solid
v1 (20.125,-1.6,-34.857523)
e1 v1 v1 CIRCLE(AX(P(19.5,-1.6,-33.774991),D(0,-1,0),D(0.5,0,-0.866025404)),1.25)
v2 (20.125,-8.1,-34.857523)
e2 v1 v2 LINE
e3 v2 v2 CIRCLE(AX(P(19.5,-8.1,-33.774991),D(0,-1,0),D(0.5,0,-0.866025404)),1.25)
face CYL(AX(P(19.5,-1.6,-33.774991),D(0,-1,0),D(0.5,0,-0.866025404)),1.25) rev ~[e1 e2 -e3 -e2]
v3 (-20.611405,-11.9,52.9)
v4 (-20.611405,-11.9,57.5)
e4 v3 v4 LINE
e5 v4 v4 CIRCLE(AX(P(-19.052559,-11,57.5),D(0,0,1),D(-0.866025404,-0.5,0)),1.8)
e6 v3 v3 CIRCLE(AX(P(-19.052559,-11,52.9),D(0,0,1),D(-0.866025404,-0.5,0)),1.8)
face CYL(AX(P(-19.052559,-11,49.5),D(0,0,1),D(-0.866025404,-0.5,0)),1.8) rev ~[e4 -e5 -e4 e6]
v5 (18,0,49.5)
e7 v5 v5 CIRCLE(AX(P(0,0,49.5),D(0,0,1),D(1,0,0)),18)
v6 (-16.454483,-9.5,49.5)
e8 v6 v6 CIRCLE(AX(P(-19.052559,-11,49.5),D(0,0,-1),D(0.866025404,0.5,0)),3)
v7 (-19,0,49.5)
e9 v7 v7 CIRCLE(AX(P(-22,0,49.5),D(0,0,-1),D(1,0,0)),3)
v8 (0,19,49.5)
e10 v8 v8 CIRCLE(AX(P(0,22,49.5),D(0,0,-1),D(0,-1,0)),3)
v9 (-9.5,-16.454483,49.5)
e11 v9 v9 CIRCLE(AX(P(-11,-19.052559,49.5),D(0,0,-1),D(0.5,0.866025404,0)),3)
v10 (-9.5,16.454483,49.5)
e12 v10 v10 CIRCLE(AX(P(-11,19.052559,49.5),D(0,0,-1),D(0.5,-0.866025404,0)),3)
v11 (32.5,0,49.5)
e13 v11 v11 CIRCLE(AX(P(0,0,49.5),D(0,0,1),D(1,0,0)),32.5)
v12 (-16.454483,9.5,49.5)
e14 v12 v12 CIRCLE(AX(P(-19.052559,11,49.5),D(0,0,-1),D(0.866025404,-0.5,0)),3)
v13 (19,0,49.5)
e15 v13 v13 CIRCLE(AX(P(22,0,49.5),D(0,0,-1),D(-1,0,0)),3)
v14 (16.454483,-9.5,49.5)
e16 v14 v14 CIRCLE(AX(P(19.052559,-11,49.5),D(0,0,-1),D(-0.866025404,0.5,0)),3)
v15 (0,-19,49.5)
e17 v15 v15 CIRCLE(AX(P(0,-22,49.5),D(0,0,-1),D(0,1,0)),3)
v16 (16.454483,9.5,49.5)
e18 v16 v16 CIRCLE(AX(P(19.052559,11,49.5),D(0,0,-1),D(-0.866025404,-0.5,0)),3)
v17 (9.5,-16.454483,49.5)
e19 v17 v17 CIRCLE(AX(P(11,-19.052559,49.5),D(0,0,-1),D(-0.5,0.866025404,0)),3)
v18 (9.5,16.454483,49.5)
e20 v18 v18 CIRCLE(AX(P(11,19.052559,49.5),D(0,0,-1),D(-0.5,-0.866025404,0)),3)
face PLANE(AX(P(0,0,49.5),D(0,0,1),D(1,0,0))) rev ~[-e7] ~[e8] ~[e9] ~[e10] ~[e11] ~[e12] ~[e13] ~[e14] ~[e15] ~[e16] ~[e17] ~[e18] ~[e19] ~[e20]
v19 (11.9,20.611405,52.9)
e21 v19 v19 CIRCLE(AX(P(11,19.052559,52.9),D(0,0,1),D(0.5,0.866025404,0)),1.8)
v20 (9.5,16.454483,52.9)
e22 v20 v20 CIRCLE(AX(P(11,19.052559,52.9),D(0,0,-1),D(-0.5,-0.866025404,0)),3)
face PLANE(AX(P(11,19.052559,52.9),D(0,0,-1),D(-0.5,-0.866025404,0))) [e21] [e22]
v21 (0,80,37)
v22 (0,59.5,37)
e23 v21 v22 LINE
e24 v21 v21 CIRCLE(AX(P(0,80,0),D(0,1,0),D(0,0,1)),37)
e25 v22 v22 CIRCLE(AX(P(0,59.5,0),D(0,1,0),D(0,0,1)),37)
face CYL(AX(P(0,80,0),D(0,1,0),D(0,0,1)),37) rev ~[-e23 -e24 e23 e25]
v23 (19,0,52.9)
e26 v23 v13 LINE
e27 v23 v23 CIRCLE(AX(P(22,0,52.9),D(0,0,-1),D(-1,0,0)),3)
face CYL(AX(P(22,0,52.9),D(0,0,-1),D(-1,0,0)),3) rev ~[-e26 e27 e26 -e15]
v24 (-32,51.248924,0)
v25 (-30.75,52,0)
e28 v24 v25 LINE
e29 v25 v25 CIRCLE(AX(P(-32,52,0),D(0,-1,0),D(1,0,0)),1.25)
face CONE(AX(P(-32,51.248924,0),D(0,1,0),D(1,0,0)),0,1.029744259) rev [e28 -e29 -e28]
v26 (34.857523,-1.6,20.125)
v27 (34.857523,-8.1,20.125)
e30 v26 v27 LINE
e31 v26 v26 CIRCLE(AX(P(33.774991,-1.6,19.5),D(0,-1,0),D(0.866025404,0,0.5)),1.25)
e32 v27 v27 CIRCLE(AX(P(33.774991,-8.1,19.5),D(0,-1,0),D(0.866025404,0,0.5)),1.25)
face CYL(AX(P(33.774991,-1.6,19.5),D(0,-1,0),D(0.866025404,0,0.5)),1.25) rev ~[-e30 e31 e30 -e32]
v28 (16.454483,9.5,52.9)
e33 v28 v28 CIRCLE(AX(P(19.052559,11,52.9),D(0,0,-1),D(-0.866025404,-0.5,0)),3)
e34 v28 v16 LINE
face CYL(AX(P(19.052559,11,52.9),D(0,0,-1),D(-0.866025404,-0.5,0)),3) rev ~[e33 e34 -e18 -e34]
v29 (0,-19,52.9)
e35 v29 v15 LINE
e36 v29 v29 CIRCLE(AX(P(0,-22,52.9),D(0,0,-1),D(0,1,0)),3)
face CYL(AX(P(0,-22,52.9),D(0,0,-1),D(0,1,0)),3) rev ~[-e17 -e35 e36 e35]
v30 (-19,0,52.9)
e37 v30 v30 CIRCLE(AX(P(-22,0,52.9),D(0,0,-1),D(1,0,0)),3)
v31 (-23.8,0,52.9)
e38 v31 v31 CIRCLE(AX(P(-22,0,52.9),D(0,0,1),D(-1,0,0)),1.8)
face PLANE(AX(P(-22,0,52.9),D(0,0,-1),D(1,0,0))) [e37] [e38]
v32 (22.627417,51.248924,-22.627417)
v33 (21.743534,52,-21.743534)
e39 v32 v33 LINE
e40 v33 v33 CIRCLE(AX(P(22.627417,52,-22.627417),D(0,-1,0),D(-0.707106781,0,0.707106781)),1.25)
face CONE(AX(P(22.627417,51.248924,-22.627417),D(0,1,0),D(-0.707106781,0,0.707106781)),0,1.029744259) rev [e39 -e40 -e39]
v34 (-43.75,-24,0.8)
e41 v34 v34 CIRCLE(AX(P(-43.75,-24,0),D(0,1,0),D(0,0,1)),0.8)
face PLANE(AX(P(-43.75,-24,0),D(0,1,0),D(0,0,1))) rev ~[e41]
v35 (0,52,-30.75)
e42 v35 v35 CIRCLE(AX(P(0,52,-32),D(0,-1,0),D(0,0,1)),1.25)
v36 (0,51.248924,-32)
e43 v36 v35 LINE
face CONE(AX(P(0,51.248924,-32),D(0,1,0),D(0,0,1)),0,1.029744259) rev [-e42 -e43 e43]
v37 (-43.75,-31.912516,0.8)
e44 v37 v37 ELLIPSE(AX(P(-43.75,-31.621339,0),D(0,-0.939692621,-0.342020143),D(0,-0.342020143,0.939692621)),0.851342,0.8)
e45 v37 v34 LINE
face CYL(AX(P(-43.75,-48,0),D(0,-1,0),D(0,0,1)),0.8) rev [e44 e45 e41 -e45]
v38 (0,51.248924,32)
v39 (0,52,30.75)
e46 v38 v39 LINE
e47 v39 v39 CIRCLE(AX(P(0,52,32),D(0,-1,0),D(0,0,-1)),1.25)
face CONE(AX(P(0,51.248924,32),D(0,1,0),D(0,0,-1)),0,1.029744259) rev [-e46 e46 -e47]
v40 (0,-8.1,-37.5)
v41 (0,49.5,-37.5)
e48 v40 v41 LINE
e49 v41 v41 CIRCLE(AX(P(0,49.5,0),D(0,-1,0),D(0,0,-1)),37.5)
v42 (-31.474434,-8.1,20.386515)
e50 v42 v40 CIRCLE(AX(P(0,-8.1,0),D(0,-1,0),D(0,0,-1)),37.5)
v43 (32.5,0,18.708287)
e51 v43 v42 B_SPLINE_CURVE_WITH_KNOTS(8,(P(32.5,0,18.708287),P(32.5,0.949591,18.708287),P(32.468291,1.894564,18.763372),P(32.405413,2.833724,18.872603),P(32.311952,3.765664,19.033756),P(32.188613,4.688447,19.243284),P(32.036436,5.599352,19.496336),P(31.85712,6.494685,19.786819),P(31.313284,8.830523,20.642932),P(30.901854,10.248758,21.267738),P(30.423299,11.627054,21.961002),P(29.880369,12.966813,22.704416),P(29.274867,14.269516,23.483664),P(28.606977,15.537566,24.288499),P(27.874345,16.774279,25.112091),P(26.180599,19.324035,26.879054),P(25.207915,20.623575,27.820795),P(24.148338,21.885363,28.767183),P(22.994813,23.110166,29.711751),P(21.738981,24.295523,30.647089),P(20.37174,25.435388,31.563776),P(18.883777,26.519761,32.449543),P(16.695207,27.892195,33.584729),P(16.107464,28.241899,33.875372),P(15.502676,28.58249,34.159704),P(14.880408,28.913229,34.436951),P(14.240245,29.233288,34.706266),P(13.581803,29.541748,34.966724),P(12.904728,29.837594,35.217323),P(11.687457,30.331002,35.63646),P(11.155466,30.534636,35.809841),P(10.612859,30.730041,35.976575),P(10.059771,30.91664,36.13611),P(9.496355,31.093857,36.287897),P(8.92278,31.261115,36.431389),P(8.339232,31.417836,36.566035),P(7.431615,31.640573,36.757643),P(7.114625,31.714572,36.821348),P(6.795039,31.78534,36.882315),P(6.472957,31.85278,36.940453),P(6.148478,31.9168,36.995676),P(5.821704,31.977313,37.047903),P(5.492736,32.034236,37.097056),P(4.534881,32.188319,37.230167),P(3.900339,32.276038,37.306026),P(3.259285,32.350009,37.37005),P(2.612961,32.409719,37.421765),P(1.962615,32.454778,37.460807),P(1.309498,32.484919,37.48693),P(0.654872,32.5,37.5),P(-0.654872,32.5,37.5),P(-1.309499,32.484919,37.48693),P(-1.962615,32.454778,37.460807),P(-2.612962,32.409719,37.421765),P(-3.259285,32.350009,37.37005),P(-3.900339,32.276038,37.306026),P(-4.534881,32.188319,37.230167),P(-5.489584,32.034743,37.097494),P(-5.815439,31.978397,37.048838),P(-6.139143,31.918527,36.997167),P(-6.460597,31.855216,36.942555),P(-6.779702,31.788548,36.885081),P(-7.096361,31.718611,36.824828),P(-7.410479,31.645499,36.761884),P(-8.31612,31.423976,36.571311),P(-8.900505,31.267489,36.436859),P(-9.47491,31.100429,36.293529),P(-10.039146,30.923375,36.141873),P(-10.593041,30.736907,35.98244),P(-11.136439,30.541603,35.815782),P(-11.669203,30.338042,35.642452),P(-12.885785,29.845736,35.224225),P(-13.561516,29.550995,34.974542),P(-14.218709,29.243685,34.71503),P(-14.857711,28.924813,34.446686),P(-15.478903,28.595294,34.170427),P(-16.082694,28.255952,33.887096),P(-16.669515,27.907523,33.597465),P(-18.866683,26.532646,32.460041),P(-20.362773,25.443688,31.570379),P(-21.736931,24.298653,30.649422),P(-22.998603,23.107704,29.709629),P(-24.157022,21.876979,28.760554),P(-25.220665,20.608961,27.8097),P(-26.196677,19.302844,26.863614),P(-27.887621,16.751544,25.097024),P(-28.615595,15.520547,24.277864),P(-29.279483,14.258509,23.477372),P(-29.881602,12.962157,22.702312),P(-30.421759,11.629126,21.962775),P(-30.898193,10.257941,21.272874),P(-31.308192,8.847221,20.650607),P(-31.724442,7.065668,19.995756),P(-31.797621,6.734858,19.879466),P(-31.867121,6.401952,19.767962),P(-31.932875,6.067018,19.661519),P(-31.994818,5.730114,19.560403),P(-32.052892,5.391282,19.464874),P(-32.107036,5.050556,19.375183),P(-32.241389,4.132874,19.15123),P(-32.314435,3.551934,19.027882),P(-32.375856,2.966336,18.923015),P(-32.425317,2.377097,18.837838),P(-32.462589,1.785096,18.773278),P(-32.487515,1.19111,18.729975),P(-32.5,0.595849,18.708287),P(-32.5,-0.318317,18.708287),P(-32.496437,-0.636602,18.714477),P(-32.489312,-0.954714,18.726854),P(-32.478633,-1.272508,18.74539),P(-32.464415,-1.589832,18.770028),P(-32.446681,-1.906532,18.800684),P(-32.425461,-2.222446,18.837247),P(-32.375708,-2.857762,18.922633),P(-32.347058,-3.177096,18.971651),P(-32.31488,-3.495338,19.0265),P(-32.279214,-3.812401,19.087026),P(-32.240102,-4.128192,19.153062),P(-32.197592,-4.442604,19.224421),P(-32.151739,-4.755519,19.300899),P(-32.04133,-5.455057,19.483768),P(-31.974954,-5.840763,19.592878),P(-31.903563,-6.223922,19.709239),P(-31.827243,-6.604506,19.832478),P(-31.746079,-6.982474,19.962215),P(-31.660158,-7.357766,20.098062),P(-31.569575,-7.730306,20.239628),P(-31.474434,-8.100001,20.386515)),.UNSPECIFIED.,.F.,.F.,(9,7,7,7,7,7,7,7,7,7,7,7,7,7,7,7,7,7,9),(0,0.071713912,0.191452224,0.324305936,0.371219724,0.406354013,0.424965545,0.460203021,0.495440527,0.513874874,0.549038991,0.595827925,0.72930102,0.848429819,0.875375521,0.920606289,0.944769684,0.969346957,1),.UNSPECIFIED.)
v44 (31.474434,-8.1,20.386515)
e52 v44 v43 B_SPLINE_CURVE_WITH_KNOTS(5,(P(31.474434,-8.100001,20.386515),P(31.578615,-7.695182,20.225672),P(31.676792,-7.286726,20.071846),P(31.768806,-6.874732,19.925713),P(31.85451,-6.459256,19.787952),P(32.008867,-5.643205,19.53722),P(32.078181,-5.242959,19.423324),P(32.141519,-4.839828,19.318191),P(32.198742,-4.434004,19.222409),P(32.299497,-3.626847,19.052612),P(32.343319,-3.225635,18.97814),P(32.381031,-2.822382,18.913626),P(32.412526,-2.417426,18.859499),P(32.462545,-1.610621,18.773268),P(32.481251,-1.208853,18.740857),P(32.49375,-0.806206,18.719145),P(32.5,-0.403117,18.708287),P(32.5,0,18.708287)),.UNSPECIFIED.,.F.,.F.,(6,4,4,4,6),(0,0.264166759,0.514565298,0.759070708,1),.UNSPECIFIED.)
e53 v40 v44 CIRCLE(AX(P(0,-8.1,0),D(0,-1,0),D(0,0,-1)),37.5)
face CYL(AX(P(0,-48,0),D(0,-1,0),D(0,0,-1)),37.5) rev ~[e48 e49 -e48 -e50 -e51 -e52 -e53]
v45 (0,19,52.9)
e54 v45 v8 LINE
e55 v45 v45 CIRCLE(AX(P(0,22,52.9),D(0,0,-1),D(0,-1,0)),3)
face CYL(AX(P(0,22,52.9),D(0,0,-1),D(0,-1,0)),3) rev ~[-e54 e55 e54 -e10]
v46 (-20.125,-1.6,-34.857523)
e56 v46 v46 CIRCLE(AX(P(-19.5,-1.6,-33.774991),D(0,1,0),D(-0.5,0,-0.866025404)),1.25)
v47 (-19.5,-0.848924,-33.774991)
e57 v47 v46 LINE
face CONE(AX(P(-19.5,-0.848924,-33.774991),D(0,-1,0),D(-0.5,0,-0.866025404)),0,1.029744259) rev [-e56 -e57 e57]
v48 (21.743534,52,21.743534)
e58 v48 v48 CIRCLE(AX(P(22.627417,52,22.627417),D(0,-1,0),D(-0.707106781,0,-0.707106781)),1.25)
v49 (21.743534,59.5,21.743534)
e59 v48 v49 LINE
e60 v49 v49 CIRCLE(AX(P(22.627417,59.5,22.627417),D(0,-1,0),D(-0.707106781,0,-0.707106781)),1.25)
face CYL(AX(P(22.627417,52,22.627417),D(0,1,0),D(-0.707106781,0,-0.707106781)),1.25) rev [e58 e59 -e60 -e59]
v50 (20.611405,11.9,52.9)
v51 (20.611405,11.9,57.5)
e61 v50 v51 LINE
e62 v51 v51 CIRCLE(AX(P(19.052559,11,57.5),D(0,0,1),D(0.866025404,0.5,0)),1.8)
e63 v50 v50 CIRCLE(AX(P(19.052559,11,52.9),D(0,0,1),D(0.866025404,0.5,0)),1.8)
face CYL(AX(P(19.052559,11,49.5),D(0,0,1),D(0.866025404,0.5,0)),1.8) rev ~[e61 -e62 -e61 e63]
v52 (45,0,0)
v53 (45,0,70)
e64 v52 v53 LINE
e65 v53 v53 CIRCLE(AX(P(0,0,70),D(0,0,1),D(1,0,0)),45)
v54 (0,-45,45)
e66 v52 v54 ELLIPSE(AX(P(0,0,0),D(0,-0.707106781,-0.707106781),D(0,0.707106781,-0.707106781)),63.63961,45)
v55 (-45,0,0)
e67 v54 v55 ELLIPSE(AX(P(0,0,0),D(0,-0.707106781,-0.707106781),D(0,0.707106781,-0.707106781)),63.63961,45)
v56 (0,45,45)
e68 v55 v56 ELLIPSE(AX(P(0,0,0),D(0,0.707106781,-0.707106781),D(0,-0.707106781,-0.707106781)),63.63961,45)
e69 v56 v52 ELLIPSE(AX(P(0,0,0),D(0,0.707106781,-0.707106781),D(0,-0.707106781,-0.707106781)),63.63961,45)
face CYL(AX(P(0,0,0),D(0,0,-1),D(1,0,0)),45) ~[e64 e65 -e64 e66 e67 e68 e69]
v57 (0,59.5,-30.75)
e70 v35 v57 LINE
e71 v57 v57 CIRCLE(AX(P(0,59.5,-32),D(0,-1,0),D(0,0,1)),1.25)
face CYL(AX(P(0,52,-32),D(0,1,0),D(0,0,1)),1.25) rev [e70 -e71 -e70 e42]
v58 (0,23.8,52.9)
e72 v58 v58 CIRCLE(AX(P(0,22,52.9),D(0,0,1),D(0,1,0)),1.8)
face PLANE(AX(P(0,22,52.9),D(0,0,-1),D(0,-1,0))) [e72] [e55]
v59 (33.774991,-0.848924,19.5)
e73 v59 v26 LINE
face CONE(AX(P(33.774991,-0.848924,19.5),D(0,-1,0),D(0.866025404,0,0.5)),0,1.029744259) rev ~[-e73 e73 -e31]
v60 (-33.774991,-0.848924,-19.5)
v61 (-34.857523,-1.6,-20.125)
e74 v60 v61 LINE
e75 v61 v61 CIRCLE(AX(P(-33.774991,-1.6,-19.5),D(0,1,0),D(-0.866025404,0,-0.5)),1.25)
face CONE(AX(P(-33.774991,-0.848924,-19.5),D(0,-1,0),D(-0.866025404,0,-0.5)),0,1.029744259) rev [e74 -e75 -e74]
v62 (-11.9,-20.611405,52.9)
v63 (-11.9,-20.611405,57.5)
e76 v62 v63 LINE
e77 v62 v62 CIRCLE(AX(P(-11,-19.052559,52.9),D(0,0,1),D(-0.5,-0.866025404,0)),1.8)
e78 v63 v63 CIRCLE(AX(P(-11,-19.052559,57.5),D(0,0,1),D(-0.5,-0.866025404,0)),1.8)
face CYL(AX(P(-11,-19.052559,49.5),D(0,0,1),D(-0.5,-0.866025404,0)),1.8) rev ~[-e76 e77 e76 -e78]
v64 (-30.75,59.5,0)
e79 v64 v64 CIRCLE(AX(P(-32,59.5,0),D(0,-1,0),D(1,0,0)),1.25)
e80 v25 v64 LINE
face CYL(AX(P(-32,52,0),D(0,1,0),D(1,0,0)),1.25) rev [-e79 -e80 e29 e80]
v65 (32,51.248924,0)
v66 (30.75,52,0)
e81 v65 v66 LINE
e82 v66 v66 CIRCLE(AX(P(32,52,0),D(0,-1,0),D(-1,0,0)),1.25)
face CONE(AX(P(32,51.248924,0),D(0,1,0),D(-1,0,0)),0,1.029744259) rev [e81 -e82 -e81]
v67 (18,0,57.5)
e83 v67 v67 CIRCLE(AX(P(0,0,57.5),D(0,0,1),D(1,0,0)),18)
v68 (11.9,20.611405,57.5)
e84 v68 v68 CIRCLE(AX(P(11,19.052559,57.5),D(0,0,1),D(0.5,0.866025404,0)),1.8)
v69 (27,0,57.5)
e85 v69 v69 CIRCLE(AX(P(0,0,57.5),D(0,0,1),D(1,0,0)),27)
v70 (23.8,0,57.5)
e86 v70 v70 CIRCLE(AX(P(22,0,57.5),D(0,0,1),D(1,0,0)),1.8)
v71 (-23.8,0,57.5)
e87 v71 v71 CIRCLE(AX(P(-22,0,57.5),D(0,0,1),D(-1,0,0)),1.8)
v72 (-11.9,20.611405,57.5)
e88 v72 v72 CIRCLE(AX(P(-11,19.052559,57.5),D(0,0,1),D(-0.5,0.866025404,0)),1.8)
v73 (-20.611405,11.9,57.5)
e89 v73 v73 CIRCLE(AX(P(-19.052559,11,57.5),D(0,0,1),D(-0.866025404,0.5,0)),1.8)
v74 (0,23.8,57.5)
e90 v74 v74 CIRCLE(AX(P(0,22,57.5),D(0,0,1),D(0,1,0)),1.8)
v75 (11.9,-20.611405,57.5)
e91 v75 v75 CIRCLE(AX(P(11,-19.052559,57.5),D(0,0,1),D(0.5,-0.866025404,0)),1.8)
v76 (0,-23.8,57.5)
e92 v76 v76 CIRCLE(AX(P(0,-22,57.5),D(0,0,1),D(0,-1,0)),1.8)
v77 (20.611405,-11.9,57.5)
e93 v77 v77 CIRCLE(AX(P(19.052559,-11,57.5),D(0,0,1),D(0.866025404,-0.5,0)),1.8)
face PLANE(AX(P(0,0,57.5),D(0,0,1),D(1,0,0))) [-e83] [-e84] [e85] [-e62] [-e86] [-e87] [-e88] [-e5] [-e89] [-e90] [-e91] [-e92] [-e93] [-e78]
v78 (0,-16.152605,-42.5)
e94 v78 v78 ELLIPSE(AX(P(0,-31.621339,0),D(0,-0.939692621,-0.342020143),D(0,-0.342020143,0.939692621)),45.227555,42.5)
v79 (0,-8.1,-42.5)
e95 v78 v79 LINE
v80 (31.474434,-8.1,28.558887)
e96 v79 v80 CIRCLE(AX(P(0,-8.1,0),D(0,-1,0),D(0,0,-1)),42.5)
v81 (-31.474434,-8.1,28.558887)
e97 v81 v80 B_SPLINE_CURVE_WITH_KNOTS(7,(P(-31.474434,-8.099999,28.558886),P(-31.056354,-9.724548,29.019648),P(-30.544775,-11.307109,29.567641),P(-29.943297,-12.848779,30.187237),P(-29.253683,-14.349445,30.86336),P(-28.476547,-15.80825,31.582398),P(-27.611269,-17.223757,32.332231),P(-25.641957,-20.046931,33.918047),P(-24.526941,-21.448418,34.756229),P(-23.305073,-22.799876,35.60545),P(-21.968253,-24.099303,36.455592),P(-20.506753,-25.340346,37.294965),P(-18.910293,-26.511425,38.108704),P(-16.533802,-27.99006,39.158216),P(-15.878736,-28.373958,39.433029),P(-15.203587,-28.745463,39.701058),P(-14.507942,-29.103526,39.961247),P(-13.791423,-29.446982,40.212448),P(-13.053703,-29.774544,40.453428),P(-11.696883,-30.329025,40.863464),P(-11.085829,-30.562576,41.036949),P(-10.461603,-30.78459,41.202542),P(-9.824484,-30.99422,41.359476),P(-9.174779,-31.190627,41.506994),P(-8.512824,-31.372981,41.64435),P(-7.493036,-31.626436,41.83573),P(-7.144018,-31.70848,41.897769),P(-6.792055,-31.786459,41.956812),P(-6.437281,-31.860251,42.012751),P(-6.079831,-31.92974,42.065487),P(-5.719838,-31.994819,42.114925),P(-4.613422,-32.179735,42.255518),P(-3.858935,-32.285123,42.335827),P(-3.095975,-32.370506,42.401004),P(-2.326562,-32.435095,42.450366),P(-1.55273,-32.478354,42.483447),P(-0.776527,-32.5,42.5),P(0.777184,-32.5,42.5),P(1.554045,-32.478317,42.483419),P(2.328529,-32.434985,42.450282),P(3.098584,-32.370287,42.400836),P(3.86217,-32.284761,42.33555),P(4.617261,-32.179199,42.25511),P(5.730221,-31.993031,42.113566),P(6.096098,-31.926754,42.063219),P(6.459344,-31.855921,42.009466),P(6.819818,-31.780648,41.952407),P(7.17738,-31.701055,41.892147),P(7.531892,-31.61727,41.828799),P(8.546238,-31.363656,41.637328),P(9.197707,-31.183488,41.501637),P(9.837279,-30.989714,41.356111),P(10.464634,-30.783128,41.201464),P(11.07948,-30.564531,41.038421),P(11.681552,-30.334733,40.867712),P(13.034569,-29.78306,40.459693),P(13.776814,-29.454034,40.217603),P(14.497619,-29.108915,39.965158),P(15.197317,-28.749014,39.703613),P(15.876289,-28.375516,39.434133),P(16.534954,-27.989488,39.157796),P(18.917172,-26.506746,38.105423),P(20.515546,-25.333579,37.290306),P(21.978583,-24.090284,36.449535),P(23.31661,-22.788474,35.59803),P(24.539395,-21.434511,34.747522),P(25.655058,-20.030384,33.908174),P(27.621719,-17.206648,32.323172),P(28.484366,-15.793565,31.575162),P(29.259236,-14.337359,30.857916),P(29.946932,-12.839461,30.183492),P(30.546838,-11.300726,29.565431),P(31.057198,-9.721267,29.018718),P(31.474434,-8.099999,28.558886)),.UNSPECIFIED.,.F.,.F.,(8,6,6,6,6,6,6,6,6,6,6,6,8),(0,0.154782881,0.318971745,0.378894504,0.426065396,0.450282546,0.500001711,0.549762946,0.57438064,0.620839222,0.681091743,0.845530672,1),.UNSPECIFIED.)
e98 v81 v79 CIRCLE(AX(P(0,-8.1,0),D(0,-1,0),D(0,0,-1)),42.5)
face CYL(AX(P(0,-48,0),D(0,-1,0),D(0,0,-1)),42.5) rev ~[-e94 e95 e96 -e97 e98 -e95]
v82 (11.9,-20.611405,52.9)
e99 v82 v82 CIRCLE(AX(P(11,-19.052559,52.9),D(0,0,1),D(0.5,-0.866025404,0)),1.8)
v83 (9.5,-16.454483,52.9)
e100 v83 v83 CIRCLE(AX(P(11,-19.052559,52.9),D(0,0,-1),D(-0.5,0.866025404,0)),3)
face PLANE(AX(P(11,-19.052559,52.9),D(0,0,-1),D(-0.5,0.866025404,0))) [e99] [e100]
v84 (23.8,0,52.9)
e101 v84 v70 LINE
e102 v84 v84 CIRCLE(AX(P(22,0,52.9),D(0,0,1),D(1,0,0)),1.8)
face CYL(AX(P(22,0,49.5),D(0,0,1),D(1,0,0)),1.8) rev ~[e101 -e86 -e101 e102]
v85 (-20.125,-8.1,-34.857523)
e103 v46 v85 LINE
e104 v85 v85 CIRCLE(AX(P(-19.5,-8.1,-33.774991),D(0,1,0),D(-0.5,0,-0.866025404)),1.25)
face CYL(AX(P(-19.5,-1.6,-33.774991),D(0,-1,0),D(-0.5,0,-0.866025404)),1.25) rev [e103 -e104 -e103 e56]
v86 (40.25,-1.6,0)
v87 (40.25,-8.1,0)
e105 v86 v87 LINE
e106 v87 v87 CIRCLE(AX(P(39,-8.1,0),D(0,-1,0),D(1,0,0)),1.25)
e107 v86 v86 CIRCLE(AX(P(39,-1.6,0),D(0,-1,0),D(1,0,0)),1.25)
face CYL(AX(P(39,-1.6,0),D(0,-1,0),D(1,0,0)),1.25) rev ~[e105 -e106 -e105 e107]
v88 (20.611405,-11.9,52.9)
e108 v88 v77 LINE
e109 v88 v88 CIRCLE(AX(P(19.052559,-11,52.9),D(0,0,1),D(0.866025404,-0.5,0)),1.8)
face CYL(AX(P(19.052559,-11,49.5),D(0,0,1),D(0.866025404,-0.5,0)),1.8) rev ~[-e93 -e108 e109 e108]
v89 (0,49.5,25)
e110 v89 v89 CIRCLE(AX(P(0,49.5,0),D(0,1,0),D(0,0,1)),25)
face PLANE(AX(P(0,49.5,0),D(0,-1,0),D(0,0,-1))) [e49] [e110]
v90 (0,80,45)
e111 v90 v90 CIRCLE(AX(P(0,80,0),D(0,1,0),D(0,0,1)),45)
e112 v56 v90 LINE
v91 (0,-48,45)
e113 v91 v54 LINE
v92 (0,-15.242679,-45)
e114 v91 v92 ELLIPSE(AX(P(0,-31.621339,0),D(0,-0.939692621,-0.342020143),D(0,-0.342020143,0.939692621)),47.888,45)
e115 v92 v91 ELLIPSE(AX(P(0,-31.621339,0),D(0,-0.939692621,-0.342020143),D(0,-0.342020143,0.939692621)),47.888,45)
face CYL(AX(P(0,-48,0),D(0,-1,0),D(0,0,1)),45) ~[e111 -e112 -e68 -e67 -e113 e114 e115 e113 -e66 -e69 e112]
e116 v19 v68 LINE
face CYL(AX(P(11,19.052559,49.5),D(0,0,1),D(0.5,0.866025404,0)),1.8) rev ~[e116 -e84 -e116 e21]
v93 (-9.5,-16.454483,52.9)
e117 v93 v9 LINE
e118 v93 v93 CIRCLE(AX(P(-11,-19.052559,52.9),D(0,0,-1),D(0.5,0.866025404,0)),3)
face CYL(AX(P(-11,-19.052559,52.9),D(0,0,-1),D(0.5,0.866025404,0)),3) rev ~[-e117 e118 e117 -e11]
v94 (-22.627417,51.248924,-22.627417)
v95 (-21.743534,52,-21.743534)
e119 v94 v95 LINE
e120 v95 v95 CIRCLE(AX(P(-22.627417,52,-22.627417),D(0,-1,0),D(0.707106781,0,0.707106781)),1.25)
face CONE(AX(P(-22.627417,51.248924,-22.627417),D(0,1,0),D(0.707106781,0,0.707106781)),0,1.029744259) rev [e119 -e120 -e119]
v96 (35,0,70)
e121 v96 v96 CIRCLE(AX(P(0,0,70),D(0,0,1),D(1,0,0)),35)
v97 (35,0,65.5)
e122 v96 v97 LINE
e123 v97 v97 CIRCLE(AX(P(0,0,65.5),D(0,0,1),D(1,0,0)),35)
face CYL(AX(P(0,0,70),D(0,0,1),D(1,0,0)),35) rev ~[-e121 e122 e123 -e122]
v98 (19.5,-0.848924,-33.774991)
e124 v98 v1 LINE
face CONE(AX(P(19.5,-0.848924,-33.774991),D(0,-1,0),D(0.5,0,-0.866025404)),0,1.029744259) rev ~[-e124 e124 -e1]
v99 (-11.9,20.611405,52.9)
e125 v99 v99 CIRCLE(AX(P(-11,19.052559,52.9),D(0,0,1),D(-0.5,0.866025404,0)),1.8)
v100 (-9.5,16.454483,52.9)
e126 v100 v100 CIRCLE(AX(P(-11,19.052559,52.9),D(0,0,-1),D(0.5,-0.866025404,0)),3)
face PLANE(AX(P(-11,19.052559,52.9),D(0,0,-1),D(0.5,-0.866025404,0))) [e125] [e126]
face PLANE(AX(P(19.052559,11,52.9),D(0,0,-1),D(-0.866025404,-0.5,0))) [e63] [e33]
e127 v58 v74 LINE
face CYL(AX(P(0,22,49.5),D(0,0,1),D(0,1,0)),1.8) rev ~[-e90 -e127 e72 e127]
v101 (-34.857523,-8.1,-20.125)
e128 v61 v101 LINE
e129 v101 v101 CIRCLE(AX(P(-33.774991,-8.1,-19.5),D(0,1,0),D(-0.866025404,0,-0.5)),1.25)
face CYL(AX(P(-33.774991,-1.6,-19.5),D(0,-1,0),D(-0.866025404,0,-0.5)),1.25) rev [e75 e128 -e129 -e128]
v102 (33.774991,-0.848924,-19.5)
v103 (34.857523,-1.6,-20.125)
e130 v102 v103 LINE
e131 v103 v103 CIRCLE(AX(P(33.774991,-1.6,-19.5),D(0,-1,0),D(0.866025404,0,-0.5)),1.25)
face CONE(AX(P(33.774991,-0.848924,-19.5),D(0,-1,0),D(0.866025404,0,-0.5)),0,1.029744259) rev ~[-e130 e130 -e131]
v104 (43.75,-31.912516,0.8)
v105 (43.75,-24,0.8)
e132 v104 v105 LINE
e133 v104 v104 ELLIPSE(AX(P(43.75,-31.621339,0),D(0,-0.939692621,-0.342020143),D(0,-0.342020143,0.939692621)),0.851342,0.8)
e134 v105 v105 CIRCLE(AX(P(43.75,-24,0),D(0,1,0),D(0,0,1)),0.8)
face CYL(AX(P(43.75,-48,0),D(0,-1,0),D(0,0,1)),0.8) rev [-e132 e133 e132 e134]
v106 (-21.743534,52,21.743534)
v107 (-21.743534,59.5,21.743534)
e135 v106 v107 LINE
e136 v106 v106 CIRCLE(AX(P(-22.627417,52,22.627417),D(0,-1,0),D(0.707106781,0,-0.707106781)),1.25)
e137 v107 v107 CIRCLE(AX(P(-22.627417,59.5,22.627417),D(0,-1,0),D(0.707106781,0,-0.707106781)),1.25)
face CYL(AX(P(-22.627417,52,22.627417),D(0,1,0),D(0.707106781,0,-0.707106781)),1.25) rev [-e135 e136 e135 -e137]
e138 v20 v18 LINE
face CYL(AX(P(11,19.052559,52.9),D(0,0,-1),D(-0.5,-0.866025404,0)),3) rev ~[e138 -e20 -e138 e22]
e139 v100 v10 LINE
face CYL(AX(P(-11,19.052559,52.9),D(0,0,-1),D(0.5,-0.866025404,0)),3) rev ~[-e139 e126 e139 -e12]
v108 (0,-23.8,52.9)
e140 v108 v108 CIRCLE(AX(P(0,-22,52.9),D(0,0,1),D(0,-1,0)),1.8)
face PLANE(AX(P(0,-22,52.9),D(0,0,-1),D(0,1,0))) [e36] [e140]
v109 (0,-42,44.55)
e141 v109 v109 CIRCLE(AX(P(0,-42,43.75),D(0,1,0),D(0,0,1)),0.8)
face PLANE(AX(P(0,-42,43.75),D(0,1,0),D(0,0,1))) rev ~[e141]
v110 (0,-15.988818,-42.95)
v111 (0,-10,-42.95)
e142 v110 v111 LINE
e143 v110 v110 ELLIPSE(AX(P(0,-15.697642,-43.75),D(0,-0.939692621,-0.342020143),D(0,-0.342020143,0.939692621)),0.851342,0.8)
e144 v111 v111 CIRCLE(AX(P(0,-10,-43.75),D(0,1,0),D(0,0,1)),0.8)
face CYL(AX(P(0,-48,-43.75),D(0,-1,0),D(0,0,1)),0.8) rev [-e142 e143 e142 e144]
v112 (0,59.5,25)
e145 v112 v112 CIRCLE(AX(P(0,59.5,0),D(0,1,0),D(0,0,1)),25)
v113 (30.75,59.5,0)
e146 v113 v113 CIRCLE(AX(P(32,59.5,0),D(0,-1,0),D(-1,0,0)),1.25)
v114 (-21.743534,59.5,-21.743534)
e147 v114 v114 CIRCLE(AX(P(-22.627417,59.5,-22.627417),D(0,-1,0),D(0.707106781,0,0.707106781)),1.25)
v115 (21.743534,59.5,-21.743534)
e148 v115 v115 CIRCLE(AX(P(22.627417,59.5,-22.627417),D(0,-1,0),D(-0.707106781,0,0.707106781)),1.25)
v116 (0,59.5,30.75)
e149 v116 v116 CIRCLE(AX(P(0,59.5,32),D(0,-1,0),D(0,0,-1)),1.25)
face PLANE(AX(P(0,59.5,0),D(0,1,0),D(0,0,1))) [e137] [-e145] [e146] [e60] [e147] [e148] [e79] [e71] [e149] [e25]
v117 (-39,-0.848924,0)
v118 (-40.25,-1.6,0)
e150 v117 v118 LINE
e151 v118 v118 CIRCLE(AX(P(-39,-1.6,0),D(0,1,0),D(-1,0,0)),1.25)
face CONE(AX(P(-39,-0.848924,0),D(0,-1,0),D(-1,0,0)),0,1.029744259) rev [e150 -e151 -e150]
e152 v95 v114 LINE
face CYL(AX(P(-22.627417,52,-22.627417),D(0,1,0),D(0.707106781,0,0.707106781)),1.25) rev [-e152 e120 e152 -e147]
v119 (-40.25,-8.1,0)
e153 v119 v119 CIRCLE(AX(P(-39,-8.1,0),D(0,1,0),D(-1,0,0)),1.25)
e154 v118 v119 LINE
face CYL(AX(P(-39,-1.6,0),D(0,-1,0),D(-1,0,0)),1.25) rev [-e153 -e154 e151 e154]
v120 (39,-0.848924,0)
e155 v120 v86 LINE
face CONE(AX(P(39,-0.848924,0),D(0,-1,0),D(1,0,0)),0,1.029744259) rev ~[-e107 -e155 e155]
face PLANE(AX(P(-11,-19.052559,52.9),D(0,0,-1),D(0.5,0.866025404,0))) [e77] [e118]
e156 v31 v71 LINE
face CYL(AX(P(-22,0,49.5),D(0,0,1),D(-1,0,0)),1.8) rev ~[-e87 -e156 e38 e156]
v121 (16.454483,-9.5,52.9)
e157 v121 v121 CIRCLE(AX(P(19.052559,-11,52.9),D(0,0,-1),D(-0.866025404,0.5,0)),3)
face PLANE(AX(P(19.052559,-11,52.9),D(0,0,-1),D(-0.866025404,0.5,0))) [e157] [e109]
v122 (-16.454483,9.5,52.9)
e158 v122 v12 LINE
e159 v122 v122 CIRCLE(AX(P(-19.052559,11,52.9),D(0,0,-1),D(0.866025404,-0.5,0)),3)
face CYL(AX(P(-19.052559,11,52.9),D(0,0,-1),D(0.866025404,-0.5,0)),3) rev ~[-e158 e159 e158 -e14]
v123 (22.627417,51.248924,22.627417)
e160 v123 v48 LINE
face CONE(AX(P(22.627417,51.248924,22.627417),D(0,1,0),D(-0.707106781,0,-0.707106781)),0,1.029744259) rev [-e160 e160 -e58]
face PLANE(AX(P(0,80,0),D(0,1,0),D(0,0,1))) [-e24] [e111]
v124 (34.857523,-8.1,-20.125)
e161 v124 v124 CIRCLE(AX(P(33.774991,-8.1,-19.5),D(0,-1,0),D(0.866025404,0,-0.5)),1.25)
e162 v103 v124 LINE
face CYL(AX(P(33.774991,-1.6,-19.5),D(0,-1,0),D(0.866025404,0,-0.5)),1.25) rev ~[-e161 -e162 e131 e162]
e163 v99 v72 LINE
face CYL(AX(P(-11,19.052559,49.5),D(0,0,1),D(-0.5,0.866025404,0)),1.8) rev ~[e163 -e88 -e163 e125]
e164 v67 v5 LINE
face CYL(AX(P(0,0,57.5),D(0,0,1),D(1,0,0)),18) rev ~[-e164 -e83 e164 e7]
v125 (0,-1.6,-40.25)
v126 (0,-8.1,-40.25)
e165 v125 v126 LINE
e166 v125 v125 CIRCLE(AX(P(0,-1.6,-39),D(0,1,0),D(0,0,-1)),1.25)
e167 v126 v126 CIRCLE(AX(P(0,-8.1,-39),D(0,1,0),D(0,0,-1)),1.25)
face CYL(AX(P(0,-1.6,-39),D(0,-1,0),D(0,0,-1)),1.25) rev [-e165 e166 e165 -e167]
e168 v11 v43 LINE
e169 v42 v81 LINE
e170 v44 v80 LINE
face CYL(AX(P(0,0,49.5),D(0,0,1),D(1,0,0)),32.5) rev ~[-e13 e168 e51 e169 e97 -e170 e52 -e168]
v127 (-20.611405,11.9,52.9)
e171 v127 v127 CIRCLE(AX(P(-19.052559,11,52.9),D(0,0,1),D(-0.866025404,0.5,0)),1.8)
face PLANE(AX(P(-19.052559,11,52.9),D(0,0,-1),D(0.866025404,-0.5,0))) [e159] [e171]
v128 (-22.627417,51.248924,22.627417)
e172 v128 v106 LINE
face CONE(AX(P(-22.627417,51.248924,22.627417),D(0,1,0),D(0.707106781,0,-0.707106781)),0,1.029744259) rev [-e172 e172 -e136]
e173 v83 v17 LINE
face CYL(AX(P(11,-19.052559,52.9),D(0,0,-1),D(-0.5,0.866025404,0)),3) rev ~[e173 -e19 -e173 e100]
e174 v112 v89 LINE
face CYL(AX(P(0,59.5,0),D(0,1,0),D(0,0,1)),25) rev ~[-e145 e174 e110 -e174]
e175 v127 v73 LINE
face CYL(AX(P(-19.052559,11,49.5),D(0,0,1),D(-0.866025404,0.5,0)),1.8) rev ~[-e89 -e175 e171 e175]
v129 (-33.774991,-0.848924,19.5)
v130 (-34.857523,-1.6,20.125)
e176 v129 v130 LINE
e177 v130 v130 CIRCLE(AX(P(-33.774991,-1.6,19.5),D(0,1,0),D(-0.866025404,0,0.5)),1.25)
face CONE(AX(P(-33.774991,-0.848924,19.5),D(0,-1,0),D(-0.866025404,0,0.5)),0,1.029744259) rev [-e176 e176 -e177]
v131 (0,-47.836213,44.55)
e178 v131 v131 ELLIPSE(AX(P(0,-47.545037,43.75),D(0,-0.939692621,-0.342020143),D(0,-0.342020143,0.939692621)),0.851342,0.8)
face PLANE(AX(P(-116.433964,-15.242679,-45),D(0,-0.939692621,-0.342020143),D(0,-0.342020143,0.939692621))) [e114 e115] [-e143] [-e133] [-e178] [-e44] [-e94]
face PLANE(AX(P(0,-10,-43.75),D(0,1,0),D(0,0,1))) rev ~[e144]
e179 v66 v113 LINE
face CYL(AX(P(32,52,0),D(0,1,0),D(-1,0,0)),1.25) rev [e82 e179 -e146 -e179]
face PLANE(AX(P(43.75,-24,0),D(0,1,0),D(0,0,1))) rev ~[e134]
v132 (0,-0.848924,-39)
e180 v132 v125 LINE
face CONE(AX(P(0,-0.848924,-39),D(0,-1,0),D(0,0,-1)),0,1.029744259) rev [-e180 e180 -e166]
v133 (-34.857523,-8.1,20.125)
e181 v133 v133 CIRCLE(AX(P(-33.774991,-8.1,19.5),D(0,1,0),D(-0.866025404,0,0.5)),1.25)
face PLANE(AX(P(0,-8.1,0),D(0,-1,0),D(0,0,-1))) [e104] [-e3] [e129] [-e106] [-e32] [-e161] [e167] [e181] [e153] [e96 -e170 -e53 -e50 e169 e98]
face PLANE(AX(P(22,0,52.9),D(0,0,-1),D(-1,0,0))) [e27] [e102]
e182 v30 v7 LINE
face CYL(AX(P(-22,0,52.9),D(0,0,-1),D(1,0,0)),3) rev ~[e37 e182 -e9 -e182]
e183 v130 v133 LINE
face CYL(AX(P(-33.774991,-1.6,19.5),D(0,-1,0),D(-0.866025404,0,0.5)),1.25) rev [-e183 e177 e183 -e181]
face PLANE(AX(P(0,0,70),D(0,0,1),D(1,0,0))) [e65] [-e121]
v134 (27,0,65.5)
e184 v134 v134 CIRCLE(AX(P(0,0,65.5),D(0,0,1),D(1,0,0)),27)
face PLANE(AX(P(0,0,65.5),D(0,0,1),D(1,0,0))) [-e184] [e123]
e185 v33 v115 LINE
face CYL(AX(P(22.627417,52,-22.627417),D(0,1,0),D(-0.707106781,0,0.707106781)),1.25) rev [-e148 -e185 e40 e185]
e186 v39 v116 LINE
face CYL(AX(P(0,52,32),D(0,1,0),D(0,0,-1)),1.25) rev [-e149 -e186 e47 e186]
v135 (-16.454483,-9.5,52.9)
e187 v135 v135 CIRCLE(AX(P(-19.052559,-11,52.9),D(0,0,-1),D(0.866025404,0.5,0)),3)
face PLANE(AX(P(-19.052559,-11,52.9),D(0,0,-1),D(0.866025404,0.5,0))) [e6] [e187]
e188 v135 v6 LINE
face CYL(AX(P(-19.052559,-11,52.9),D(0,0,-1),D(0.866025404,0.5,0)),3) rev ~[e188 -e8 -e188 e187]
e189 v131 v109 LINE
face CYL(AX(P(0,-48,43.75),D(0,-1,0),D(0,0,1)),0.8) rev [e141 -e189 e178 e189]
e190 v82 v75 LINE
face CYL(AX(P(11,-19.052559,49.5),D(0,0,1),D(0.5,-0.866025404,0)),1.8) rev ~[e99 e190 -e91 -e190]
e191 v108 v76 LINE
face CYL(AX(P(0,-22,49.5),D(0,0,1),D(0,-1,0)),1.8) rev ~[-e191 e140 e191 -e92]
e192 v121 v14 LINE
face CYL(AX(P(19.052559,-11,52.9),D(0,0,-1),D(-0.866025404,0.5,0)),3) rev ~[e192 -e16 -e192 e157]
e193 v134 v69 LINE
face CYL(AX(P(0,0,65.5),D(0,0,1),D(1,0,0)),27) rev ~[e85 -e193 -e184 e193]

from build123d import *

# Parameters (mm, degrees)
SKETCH_1_R                = 45
EXTRUDE_1_DEPTH           = 70
EXTRUDE_2_DEPTH           = 80
EXTRUDE_2_DEPTH_BACK      = 48
SKETCH_2_R                = 45
SKETCH_3_R                = 37
CUT_EXTRUDE_1_DEPTH       = 20.5
SKETCH_5_R                = 37.5
CUT_EXTRUDE_2_DEPTH       = 97.5
SKETCH_6_R                = 42.5
CUT_EXTRUDE_3_DEPTH       = 39.9
SKETCH_7_R                = 25
CUT_EXTRUDE_4_DEPTH       = 136.945761243
PATTERN_CIRCULAR_1_COUNT  = 8
SKETCH_11_R               = 35
CUT_EXTRUDE_6_DEPTH       = 4.5
SKETCH_12_R               = 27
CUT_EXTRUDE_7_DEPTH       = 8
SKETCH_13_R               = 18
CUT_EXTRUDE_8_DEPTH       = 8
SKETCH_14_R               = 32.5
CUT_EXTRUDE_9_DEPTH       = 40
HOLE_WIZARD_1_D           = 3.6
HOLE_WIZARD_1_DEPTH       = 20.5
HOLE_WIZARD_1_CBORE_D     = 6
HOLE_WIZARD_1_CBORE_DEPTH = 3.4
PATTERN_CIRCULAR_2_COUNT  = 12
PATTERN_CIRCULAR_4_COUNT  = 5
PATTERN_CIRCULAR_4_ANGLE  = 120
CUT_EXTRUDE_10_DEPTH      = 116.433963806
CUT_EXTRUDE_10_DEPTH_BACK = 116.433963806
SKETCH_21_R               = 0.8
CUT_EXTRUDE_11_DEPTH      = 6
SKETCH_22_R               = 0.8
CUT_EXTRUDE_12_DEPTH      = 38
SKETCH_23_R               = 0.8
CUT_EXTRUDE_13_DEPTH      = 24


with BuildPart() as part:
    # 草图1 → 凸台-拉伸1 (new body)
    with BuildSketch(Plane.XY):
        Circle(SKETCH_1_R)
    extrude(amount=EXTRUDE_1_DEPTH)

    # 草图2 → 凸台-拉伸2 (add, two sides: drawn at the far end of the back side and taken through both)
    with BuildSketch(Plane(origin=(0, 0, 0), x_dir=(1, 0, 0), z_dir=(0, 1, 0)).offset(-EXTRUDE_2_DEPTH_BACK)):
        with Locations(Location((0, 0, 0), (0, 0, 270))):
            Circle(SKETCH_2_R)
    extrude(amount=EXTRUDE_2_DEPTH + EXTRUDE_2_DEPTH_BACK)

    # 草图3 → 切除-拉伸1 (cut)
    with BuildSketch(Plane(origin=(0, 80, 0), x_dir=(1, 0, 0), z_dir=(0, 1, 0))):
        with Locations(Location((0, 0, 0), (0, 0, 270))):
            Circle(SKETCH_3_R)
    extrude(amount=-CUT_EXTRUDE_1_DEPTH, mode=Mode.SUBTRACT)

    # 草图5 → 切除-拉伸2 (cut)
    with BuildSketch(Plane.XZ.offset(48)):
        with Locations(Location((0, 0, 0), (0, 0, 270))):
            Circle(SKETCH_5_R)
    extrude(amount=-CUT_EXTRUDE_2_DEPTH, mode=Mode.SUBTRACT)

    # 草图6 → 切除-拉伸3 (cut)
    with BuildSketch(Plane.XZ.offset(48)):
        with Locations(Location((0, 0, 0), (0, 0, 270))):
            Circle(SKETCH_6_R)
    extrude(amount=-CUT_EXTRUDE_3_DEPTH, mode=Mode.SUBTRACT)

    # 草图7 → 切除-拉伸4 (cut, through all)
    with BuildSketch(Plane(origin=(0, 59.5, 0), x_dir=(1, 0, 0), z_dir=(0, 1, 0))):
        with Locations(Location((0, 0, 0), (0, 0, 270))):
            Circle(SKETCH_7_R)
    extrude(amount=-CUT_EXTRUDE_4_DEPTH, mode=Mode.SUBTRACT)

    # 草图8 → M3 螺纹孔1 (revolve, cut)
    with BuildSketch(Plane(origin=(0, 59.5, -32), x_dir=(0, 0, 1), z_dir=(1, 0, 0))):
        Polygon((0, 0), (0, 8.251075774), (1.25, 7.5), (1.25, 0), align=None)
    hole_wizard_m3_1 = revolve(axis=Axis((0, 65.85, -32), (0, -1, 0)), mode=Mode.SUBTRACT)

    # 阵列(圆周)1: M3 螺纹孔1 ×8 about axis
    pattern_circular_1_axis = Axis((0, 0, 0), (0, 1, 0))
    for i in range(1, PATTERN_CIRCULAR_1_COUNT):
        add(hole_wizard_m3_1.rotate(pattern_circular_1_axis, i * 360 / PATTERN_CIRCULAR_1_COUNT), mode=Mode.SUBTRACT)

    # 草图11 → 切除-拉伸6 (cut)
    with BuildSketch(Plane.XY.offset(70)):
        Circle(SKETCH_11_R)
    extrude(amount=-CUT_EXTRUDE_6_DEPTH, mode=Mode.SUBTRACT)

    # 草图12 → 切除-拉伸7 (cut)
    with BuildSketch(Plane.XY.offset(65.5)):
        Circle(SKETCH_12_R)
    extrude(amount=-CUT_EXTRUDE_7_DEPTH, mode=Mode.SUBTRACT)

    # 草图13 → 切除-拉伸8 (cut)
    with BuildSketch(Plane.XY.offset(57.5)):
        Circle(SKETCH_13_R)
    extrude(amount=-CUT_EXTRUDE_8_DEPTH, mode=Mode.SUBTRACT)

    # 草图14 → 切除-拉伸9 (cut)
    with BuildSketch(Plane.XY.offset(49.5)):
        Circle(SKETCH_14_R)
    extrude(amount=-CUT_EXTRUDE_9_DEPTH, mode=Mode.SUBTRACT)

    # 打孔尺寸(%根据)内六角圆柱头螺钉的类型1
    with Locations(Plane(origin=(0, 0, 49.5), x_dir=(-1, 0, 0), z_dir=(0, 0, -1))):
        with Locations((-22, 0)):
            hole_wizard_1 = CounterBoreHole(HOLE_WIZARD_1_D / 2, HOLE_WIZARD_1_CBORE_D / 2, HOLE_WIZARD_1_CBORE_DEPTH, depth=HOLE_WIZARD_1_DEPTH)

    # 阵列(圆周)2: 打孔尺寸(%根据)内六角圆柱头螺钉的类型1 ×12 about axis
    pattern_circular_2_axis = Axis((0, 0, 0), (0, 0, 1))
    for i in range(1, PATTERN_CIRCULAR_2_COUNT):
        add(hole_wizard_1.rotate(pattern_circular_2_axis, i * 360 / PATTERN_CIRCULAR_2_COUNT), mode=Mode.SUBTRACT)

    # 草图17 → M3 螺纹孔2 (revolve, cut)
    with BuildSketch(Plane(origin=(0, -8.1, -39), x_dir=(0, 0, -1), z_dir=(1, 0, 0))):
        Polygon((0, 0), (0, 7.251075774), (1.25, 6.5), (1.25, 0), align=None)
    hole_wizard_m3_2 = revolve(axis=Axis((0, -14.45, -39), (0, 1, 0)), mode=Mode.SUBTRACT)

    # 阵列(圆周)4: M3 螺纹孔2 ×5 about axis
    pattern_circular_4_axis = Axis((0, 0, 0), (0, 1, 0))
    for i in range(1, PATTERN_CIRCULAR_4_COUNT):
        add(hole_wizard_m3_2.rotate(pattern_circular_4_axis, i * PATTERN_CIRCULAR_4_ANGLE / (PATTERN_CIRCULAR_4_COUNT - 1)), mode=Mode.SUBTRACT)

    # 镜向1: M3 螺纹孔2 across plane
    add(hole_wizard_m3_2.mirror(Plane(origin=(0, 0, 0), x_dir=(0, 0, 1), z_dir=(1, 0, 0))), mode=Mode.SUBTRACT)

    # 镜向1 copy 1 sketch → 镜向1 copy 1 (revolve, cut)
    with BuildSketch(Plane(origin=(19.5, -8.1, -33.774990748), x_dir=(0.5000000000000011, 0, -0.866025403784438), z_dir=(-0.866025403784438, 0, -0.5000000000000011))):
        Polygon((0, 0), (0, -7.251075774), (1.25, -6.5), (1.25, 0), align=None)
    revolve(axis=Axis((19.5, -14.45, -33.774990748), (0, -1, 0)), mode=Mode.SUBTRACT)

    # 镜向1 copy 2 sketch → 镜向1 copy 2 (revolve, cut)
    with BuildSketch(Plane(origin=(33.774990748, -8.1, -19.5), x_dir=(0.8660254037844399, 0, -0.4999999999999978), z_dir=(-0.4999999999999978, 0, -0.8660254037844399))):
        Polygon((0, 0), (0, -7.251075774), (1.25, -6.5), (1.25, 0), align=None)
    revolve(axis=Axis((33.774990748, -14.45, -19.5), (0, -1, 0)), mode=Mode.SUBTRACT)

    # 镜向1 copy 3 sketch → 镜向1 copy 3 (revolve, cut)
    with BuildSketch(Plane(origin=(39, -8.1, 0), x_dir=(1, 0, 0), z_dir=(0, 0, -1))):
        Polygon((0, 0), (0, -7.251075774), (1.25, -6.5), (1.25, 0), align=None)
    revolve(axis=Axis((39, -14.45, 0), (0, -1, 0)), mode=Mode.SUBTRACT)

    # 镜向1 copy 4 sketch → 镜向1 copy 4 (revolve, cut)
    with BuildSketch(Plane(origin=(33.774990748, -8.1, 19.5), x_dir=(0.866025403784436, 0, 0.5000000000000044), z_dir=(0.5000000000000044, 0, -0.866025403784436))):
        Polygon((0, 0), (0, -7.251075774), (1.25, -6.5), (1.25, 0), align=None)
    revolve(axis=Axis((33.774990748, -14.45, 19.5), (0, -1, 0)), mode=Mode.SUBTRACT)

    # 草图19 → 切除-拉伸10 (cut, two sides: drawn at the far end of the back side and taken through both)
    with BuildSketch(Plane(origin=(0, 0, 0), x_dir=(0, 0, -1), z_dir=(1, 0, 0)).offset(-CUT_EXTRUDE_10_DEPTH_BACK)):
        Polygon((-45, -48), (45, -48), (45, -15.242678916), align=None)
    extrude(amount=CUT_EXTRUDE_10_DEPTH + CUT_EXTRUDE_10_DEPTH_BACK, mode=Mode.SUBTRACT)

    # 草图21 → 切除-拉伸11 (cut)
    with BuildSketch(Plane(origin=(0, -48, 0), x_dir=(1, 0, 0), z_dir=(0, 1, 0))):
        with Locations(Location((0, -43.75, 0), (0, 0, 270))):
            Circle(SKETCH_21_R)
    extrude(amount=CUT_EXTRUDE_11_DEPTH, mode=Mode.SUBTRACT)

    # 草图22 → 切除-拉伸12 (cut)
    with BuildSketch(Plane(origin=(0, -48, 0), x_dir=(1, 0, 0), z_dir=(0, 1, 0))):
        with Locations(Location((0, 43.75, 0), (0, 0, 270))):
            Circle(SKETCH_22_R)
    extrude(amount=CUT_EXTRUDE_12_DEPTH, mode=Mode.SUBTRACT)

    # 草图23 → 切除-拉伸13 (cut)
    with BuildSketch(Plane(origin=(0, -48, 0), x_dir=(1, 0, 0), z_dir=(0, 1, 0))):
        with Locations(Location((-43.75, 0, 0), (0, 0, 270))):
            Circle(SKETCH_23_R)
        with Locations(Location((43.75, 0, 0), (0, 0, 270))):
            Circle(SKETCH_23_R)
    extrude(amount=CUT_EXTRUDE_13_DEPTH, mode=Mode.SUBTRACT)


solid = part.part
